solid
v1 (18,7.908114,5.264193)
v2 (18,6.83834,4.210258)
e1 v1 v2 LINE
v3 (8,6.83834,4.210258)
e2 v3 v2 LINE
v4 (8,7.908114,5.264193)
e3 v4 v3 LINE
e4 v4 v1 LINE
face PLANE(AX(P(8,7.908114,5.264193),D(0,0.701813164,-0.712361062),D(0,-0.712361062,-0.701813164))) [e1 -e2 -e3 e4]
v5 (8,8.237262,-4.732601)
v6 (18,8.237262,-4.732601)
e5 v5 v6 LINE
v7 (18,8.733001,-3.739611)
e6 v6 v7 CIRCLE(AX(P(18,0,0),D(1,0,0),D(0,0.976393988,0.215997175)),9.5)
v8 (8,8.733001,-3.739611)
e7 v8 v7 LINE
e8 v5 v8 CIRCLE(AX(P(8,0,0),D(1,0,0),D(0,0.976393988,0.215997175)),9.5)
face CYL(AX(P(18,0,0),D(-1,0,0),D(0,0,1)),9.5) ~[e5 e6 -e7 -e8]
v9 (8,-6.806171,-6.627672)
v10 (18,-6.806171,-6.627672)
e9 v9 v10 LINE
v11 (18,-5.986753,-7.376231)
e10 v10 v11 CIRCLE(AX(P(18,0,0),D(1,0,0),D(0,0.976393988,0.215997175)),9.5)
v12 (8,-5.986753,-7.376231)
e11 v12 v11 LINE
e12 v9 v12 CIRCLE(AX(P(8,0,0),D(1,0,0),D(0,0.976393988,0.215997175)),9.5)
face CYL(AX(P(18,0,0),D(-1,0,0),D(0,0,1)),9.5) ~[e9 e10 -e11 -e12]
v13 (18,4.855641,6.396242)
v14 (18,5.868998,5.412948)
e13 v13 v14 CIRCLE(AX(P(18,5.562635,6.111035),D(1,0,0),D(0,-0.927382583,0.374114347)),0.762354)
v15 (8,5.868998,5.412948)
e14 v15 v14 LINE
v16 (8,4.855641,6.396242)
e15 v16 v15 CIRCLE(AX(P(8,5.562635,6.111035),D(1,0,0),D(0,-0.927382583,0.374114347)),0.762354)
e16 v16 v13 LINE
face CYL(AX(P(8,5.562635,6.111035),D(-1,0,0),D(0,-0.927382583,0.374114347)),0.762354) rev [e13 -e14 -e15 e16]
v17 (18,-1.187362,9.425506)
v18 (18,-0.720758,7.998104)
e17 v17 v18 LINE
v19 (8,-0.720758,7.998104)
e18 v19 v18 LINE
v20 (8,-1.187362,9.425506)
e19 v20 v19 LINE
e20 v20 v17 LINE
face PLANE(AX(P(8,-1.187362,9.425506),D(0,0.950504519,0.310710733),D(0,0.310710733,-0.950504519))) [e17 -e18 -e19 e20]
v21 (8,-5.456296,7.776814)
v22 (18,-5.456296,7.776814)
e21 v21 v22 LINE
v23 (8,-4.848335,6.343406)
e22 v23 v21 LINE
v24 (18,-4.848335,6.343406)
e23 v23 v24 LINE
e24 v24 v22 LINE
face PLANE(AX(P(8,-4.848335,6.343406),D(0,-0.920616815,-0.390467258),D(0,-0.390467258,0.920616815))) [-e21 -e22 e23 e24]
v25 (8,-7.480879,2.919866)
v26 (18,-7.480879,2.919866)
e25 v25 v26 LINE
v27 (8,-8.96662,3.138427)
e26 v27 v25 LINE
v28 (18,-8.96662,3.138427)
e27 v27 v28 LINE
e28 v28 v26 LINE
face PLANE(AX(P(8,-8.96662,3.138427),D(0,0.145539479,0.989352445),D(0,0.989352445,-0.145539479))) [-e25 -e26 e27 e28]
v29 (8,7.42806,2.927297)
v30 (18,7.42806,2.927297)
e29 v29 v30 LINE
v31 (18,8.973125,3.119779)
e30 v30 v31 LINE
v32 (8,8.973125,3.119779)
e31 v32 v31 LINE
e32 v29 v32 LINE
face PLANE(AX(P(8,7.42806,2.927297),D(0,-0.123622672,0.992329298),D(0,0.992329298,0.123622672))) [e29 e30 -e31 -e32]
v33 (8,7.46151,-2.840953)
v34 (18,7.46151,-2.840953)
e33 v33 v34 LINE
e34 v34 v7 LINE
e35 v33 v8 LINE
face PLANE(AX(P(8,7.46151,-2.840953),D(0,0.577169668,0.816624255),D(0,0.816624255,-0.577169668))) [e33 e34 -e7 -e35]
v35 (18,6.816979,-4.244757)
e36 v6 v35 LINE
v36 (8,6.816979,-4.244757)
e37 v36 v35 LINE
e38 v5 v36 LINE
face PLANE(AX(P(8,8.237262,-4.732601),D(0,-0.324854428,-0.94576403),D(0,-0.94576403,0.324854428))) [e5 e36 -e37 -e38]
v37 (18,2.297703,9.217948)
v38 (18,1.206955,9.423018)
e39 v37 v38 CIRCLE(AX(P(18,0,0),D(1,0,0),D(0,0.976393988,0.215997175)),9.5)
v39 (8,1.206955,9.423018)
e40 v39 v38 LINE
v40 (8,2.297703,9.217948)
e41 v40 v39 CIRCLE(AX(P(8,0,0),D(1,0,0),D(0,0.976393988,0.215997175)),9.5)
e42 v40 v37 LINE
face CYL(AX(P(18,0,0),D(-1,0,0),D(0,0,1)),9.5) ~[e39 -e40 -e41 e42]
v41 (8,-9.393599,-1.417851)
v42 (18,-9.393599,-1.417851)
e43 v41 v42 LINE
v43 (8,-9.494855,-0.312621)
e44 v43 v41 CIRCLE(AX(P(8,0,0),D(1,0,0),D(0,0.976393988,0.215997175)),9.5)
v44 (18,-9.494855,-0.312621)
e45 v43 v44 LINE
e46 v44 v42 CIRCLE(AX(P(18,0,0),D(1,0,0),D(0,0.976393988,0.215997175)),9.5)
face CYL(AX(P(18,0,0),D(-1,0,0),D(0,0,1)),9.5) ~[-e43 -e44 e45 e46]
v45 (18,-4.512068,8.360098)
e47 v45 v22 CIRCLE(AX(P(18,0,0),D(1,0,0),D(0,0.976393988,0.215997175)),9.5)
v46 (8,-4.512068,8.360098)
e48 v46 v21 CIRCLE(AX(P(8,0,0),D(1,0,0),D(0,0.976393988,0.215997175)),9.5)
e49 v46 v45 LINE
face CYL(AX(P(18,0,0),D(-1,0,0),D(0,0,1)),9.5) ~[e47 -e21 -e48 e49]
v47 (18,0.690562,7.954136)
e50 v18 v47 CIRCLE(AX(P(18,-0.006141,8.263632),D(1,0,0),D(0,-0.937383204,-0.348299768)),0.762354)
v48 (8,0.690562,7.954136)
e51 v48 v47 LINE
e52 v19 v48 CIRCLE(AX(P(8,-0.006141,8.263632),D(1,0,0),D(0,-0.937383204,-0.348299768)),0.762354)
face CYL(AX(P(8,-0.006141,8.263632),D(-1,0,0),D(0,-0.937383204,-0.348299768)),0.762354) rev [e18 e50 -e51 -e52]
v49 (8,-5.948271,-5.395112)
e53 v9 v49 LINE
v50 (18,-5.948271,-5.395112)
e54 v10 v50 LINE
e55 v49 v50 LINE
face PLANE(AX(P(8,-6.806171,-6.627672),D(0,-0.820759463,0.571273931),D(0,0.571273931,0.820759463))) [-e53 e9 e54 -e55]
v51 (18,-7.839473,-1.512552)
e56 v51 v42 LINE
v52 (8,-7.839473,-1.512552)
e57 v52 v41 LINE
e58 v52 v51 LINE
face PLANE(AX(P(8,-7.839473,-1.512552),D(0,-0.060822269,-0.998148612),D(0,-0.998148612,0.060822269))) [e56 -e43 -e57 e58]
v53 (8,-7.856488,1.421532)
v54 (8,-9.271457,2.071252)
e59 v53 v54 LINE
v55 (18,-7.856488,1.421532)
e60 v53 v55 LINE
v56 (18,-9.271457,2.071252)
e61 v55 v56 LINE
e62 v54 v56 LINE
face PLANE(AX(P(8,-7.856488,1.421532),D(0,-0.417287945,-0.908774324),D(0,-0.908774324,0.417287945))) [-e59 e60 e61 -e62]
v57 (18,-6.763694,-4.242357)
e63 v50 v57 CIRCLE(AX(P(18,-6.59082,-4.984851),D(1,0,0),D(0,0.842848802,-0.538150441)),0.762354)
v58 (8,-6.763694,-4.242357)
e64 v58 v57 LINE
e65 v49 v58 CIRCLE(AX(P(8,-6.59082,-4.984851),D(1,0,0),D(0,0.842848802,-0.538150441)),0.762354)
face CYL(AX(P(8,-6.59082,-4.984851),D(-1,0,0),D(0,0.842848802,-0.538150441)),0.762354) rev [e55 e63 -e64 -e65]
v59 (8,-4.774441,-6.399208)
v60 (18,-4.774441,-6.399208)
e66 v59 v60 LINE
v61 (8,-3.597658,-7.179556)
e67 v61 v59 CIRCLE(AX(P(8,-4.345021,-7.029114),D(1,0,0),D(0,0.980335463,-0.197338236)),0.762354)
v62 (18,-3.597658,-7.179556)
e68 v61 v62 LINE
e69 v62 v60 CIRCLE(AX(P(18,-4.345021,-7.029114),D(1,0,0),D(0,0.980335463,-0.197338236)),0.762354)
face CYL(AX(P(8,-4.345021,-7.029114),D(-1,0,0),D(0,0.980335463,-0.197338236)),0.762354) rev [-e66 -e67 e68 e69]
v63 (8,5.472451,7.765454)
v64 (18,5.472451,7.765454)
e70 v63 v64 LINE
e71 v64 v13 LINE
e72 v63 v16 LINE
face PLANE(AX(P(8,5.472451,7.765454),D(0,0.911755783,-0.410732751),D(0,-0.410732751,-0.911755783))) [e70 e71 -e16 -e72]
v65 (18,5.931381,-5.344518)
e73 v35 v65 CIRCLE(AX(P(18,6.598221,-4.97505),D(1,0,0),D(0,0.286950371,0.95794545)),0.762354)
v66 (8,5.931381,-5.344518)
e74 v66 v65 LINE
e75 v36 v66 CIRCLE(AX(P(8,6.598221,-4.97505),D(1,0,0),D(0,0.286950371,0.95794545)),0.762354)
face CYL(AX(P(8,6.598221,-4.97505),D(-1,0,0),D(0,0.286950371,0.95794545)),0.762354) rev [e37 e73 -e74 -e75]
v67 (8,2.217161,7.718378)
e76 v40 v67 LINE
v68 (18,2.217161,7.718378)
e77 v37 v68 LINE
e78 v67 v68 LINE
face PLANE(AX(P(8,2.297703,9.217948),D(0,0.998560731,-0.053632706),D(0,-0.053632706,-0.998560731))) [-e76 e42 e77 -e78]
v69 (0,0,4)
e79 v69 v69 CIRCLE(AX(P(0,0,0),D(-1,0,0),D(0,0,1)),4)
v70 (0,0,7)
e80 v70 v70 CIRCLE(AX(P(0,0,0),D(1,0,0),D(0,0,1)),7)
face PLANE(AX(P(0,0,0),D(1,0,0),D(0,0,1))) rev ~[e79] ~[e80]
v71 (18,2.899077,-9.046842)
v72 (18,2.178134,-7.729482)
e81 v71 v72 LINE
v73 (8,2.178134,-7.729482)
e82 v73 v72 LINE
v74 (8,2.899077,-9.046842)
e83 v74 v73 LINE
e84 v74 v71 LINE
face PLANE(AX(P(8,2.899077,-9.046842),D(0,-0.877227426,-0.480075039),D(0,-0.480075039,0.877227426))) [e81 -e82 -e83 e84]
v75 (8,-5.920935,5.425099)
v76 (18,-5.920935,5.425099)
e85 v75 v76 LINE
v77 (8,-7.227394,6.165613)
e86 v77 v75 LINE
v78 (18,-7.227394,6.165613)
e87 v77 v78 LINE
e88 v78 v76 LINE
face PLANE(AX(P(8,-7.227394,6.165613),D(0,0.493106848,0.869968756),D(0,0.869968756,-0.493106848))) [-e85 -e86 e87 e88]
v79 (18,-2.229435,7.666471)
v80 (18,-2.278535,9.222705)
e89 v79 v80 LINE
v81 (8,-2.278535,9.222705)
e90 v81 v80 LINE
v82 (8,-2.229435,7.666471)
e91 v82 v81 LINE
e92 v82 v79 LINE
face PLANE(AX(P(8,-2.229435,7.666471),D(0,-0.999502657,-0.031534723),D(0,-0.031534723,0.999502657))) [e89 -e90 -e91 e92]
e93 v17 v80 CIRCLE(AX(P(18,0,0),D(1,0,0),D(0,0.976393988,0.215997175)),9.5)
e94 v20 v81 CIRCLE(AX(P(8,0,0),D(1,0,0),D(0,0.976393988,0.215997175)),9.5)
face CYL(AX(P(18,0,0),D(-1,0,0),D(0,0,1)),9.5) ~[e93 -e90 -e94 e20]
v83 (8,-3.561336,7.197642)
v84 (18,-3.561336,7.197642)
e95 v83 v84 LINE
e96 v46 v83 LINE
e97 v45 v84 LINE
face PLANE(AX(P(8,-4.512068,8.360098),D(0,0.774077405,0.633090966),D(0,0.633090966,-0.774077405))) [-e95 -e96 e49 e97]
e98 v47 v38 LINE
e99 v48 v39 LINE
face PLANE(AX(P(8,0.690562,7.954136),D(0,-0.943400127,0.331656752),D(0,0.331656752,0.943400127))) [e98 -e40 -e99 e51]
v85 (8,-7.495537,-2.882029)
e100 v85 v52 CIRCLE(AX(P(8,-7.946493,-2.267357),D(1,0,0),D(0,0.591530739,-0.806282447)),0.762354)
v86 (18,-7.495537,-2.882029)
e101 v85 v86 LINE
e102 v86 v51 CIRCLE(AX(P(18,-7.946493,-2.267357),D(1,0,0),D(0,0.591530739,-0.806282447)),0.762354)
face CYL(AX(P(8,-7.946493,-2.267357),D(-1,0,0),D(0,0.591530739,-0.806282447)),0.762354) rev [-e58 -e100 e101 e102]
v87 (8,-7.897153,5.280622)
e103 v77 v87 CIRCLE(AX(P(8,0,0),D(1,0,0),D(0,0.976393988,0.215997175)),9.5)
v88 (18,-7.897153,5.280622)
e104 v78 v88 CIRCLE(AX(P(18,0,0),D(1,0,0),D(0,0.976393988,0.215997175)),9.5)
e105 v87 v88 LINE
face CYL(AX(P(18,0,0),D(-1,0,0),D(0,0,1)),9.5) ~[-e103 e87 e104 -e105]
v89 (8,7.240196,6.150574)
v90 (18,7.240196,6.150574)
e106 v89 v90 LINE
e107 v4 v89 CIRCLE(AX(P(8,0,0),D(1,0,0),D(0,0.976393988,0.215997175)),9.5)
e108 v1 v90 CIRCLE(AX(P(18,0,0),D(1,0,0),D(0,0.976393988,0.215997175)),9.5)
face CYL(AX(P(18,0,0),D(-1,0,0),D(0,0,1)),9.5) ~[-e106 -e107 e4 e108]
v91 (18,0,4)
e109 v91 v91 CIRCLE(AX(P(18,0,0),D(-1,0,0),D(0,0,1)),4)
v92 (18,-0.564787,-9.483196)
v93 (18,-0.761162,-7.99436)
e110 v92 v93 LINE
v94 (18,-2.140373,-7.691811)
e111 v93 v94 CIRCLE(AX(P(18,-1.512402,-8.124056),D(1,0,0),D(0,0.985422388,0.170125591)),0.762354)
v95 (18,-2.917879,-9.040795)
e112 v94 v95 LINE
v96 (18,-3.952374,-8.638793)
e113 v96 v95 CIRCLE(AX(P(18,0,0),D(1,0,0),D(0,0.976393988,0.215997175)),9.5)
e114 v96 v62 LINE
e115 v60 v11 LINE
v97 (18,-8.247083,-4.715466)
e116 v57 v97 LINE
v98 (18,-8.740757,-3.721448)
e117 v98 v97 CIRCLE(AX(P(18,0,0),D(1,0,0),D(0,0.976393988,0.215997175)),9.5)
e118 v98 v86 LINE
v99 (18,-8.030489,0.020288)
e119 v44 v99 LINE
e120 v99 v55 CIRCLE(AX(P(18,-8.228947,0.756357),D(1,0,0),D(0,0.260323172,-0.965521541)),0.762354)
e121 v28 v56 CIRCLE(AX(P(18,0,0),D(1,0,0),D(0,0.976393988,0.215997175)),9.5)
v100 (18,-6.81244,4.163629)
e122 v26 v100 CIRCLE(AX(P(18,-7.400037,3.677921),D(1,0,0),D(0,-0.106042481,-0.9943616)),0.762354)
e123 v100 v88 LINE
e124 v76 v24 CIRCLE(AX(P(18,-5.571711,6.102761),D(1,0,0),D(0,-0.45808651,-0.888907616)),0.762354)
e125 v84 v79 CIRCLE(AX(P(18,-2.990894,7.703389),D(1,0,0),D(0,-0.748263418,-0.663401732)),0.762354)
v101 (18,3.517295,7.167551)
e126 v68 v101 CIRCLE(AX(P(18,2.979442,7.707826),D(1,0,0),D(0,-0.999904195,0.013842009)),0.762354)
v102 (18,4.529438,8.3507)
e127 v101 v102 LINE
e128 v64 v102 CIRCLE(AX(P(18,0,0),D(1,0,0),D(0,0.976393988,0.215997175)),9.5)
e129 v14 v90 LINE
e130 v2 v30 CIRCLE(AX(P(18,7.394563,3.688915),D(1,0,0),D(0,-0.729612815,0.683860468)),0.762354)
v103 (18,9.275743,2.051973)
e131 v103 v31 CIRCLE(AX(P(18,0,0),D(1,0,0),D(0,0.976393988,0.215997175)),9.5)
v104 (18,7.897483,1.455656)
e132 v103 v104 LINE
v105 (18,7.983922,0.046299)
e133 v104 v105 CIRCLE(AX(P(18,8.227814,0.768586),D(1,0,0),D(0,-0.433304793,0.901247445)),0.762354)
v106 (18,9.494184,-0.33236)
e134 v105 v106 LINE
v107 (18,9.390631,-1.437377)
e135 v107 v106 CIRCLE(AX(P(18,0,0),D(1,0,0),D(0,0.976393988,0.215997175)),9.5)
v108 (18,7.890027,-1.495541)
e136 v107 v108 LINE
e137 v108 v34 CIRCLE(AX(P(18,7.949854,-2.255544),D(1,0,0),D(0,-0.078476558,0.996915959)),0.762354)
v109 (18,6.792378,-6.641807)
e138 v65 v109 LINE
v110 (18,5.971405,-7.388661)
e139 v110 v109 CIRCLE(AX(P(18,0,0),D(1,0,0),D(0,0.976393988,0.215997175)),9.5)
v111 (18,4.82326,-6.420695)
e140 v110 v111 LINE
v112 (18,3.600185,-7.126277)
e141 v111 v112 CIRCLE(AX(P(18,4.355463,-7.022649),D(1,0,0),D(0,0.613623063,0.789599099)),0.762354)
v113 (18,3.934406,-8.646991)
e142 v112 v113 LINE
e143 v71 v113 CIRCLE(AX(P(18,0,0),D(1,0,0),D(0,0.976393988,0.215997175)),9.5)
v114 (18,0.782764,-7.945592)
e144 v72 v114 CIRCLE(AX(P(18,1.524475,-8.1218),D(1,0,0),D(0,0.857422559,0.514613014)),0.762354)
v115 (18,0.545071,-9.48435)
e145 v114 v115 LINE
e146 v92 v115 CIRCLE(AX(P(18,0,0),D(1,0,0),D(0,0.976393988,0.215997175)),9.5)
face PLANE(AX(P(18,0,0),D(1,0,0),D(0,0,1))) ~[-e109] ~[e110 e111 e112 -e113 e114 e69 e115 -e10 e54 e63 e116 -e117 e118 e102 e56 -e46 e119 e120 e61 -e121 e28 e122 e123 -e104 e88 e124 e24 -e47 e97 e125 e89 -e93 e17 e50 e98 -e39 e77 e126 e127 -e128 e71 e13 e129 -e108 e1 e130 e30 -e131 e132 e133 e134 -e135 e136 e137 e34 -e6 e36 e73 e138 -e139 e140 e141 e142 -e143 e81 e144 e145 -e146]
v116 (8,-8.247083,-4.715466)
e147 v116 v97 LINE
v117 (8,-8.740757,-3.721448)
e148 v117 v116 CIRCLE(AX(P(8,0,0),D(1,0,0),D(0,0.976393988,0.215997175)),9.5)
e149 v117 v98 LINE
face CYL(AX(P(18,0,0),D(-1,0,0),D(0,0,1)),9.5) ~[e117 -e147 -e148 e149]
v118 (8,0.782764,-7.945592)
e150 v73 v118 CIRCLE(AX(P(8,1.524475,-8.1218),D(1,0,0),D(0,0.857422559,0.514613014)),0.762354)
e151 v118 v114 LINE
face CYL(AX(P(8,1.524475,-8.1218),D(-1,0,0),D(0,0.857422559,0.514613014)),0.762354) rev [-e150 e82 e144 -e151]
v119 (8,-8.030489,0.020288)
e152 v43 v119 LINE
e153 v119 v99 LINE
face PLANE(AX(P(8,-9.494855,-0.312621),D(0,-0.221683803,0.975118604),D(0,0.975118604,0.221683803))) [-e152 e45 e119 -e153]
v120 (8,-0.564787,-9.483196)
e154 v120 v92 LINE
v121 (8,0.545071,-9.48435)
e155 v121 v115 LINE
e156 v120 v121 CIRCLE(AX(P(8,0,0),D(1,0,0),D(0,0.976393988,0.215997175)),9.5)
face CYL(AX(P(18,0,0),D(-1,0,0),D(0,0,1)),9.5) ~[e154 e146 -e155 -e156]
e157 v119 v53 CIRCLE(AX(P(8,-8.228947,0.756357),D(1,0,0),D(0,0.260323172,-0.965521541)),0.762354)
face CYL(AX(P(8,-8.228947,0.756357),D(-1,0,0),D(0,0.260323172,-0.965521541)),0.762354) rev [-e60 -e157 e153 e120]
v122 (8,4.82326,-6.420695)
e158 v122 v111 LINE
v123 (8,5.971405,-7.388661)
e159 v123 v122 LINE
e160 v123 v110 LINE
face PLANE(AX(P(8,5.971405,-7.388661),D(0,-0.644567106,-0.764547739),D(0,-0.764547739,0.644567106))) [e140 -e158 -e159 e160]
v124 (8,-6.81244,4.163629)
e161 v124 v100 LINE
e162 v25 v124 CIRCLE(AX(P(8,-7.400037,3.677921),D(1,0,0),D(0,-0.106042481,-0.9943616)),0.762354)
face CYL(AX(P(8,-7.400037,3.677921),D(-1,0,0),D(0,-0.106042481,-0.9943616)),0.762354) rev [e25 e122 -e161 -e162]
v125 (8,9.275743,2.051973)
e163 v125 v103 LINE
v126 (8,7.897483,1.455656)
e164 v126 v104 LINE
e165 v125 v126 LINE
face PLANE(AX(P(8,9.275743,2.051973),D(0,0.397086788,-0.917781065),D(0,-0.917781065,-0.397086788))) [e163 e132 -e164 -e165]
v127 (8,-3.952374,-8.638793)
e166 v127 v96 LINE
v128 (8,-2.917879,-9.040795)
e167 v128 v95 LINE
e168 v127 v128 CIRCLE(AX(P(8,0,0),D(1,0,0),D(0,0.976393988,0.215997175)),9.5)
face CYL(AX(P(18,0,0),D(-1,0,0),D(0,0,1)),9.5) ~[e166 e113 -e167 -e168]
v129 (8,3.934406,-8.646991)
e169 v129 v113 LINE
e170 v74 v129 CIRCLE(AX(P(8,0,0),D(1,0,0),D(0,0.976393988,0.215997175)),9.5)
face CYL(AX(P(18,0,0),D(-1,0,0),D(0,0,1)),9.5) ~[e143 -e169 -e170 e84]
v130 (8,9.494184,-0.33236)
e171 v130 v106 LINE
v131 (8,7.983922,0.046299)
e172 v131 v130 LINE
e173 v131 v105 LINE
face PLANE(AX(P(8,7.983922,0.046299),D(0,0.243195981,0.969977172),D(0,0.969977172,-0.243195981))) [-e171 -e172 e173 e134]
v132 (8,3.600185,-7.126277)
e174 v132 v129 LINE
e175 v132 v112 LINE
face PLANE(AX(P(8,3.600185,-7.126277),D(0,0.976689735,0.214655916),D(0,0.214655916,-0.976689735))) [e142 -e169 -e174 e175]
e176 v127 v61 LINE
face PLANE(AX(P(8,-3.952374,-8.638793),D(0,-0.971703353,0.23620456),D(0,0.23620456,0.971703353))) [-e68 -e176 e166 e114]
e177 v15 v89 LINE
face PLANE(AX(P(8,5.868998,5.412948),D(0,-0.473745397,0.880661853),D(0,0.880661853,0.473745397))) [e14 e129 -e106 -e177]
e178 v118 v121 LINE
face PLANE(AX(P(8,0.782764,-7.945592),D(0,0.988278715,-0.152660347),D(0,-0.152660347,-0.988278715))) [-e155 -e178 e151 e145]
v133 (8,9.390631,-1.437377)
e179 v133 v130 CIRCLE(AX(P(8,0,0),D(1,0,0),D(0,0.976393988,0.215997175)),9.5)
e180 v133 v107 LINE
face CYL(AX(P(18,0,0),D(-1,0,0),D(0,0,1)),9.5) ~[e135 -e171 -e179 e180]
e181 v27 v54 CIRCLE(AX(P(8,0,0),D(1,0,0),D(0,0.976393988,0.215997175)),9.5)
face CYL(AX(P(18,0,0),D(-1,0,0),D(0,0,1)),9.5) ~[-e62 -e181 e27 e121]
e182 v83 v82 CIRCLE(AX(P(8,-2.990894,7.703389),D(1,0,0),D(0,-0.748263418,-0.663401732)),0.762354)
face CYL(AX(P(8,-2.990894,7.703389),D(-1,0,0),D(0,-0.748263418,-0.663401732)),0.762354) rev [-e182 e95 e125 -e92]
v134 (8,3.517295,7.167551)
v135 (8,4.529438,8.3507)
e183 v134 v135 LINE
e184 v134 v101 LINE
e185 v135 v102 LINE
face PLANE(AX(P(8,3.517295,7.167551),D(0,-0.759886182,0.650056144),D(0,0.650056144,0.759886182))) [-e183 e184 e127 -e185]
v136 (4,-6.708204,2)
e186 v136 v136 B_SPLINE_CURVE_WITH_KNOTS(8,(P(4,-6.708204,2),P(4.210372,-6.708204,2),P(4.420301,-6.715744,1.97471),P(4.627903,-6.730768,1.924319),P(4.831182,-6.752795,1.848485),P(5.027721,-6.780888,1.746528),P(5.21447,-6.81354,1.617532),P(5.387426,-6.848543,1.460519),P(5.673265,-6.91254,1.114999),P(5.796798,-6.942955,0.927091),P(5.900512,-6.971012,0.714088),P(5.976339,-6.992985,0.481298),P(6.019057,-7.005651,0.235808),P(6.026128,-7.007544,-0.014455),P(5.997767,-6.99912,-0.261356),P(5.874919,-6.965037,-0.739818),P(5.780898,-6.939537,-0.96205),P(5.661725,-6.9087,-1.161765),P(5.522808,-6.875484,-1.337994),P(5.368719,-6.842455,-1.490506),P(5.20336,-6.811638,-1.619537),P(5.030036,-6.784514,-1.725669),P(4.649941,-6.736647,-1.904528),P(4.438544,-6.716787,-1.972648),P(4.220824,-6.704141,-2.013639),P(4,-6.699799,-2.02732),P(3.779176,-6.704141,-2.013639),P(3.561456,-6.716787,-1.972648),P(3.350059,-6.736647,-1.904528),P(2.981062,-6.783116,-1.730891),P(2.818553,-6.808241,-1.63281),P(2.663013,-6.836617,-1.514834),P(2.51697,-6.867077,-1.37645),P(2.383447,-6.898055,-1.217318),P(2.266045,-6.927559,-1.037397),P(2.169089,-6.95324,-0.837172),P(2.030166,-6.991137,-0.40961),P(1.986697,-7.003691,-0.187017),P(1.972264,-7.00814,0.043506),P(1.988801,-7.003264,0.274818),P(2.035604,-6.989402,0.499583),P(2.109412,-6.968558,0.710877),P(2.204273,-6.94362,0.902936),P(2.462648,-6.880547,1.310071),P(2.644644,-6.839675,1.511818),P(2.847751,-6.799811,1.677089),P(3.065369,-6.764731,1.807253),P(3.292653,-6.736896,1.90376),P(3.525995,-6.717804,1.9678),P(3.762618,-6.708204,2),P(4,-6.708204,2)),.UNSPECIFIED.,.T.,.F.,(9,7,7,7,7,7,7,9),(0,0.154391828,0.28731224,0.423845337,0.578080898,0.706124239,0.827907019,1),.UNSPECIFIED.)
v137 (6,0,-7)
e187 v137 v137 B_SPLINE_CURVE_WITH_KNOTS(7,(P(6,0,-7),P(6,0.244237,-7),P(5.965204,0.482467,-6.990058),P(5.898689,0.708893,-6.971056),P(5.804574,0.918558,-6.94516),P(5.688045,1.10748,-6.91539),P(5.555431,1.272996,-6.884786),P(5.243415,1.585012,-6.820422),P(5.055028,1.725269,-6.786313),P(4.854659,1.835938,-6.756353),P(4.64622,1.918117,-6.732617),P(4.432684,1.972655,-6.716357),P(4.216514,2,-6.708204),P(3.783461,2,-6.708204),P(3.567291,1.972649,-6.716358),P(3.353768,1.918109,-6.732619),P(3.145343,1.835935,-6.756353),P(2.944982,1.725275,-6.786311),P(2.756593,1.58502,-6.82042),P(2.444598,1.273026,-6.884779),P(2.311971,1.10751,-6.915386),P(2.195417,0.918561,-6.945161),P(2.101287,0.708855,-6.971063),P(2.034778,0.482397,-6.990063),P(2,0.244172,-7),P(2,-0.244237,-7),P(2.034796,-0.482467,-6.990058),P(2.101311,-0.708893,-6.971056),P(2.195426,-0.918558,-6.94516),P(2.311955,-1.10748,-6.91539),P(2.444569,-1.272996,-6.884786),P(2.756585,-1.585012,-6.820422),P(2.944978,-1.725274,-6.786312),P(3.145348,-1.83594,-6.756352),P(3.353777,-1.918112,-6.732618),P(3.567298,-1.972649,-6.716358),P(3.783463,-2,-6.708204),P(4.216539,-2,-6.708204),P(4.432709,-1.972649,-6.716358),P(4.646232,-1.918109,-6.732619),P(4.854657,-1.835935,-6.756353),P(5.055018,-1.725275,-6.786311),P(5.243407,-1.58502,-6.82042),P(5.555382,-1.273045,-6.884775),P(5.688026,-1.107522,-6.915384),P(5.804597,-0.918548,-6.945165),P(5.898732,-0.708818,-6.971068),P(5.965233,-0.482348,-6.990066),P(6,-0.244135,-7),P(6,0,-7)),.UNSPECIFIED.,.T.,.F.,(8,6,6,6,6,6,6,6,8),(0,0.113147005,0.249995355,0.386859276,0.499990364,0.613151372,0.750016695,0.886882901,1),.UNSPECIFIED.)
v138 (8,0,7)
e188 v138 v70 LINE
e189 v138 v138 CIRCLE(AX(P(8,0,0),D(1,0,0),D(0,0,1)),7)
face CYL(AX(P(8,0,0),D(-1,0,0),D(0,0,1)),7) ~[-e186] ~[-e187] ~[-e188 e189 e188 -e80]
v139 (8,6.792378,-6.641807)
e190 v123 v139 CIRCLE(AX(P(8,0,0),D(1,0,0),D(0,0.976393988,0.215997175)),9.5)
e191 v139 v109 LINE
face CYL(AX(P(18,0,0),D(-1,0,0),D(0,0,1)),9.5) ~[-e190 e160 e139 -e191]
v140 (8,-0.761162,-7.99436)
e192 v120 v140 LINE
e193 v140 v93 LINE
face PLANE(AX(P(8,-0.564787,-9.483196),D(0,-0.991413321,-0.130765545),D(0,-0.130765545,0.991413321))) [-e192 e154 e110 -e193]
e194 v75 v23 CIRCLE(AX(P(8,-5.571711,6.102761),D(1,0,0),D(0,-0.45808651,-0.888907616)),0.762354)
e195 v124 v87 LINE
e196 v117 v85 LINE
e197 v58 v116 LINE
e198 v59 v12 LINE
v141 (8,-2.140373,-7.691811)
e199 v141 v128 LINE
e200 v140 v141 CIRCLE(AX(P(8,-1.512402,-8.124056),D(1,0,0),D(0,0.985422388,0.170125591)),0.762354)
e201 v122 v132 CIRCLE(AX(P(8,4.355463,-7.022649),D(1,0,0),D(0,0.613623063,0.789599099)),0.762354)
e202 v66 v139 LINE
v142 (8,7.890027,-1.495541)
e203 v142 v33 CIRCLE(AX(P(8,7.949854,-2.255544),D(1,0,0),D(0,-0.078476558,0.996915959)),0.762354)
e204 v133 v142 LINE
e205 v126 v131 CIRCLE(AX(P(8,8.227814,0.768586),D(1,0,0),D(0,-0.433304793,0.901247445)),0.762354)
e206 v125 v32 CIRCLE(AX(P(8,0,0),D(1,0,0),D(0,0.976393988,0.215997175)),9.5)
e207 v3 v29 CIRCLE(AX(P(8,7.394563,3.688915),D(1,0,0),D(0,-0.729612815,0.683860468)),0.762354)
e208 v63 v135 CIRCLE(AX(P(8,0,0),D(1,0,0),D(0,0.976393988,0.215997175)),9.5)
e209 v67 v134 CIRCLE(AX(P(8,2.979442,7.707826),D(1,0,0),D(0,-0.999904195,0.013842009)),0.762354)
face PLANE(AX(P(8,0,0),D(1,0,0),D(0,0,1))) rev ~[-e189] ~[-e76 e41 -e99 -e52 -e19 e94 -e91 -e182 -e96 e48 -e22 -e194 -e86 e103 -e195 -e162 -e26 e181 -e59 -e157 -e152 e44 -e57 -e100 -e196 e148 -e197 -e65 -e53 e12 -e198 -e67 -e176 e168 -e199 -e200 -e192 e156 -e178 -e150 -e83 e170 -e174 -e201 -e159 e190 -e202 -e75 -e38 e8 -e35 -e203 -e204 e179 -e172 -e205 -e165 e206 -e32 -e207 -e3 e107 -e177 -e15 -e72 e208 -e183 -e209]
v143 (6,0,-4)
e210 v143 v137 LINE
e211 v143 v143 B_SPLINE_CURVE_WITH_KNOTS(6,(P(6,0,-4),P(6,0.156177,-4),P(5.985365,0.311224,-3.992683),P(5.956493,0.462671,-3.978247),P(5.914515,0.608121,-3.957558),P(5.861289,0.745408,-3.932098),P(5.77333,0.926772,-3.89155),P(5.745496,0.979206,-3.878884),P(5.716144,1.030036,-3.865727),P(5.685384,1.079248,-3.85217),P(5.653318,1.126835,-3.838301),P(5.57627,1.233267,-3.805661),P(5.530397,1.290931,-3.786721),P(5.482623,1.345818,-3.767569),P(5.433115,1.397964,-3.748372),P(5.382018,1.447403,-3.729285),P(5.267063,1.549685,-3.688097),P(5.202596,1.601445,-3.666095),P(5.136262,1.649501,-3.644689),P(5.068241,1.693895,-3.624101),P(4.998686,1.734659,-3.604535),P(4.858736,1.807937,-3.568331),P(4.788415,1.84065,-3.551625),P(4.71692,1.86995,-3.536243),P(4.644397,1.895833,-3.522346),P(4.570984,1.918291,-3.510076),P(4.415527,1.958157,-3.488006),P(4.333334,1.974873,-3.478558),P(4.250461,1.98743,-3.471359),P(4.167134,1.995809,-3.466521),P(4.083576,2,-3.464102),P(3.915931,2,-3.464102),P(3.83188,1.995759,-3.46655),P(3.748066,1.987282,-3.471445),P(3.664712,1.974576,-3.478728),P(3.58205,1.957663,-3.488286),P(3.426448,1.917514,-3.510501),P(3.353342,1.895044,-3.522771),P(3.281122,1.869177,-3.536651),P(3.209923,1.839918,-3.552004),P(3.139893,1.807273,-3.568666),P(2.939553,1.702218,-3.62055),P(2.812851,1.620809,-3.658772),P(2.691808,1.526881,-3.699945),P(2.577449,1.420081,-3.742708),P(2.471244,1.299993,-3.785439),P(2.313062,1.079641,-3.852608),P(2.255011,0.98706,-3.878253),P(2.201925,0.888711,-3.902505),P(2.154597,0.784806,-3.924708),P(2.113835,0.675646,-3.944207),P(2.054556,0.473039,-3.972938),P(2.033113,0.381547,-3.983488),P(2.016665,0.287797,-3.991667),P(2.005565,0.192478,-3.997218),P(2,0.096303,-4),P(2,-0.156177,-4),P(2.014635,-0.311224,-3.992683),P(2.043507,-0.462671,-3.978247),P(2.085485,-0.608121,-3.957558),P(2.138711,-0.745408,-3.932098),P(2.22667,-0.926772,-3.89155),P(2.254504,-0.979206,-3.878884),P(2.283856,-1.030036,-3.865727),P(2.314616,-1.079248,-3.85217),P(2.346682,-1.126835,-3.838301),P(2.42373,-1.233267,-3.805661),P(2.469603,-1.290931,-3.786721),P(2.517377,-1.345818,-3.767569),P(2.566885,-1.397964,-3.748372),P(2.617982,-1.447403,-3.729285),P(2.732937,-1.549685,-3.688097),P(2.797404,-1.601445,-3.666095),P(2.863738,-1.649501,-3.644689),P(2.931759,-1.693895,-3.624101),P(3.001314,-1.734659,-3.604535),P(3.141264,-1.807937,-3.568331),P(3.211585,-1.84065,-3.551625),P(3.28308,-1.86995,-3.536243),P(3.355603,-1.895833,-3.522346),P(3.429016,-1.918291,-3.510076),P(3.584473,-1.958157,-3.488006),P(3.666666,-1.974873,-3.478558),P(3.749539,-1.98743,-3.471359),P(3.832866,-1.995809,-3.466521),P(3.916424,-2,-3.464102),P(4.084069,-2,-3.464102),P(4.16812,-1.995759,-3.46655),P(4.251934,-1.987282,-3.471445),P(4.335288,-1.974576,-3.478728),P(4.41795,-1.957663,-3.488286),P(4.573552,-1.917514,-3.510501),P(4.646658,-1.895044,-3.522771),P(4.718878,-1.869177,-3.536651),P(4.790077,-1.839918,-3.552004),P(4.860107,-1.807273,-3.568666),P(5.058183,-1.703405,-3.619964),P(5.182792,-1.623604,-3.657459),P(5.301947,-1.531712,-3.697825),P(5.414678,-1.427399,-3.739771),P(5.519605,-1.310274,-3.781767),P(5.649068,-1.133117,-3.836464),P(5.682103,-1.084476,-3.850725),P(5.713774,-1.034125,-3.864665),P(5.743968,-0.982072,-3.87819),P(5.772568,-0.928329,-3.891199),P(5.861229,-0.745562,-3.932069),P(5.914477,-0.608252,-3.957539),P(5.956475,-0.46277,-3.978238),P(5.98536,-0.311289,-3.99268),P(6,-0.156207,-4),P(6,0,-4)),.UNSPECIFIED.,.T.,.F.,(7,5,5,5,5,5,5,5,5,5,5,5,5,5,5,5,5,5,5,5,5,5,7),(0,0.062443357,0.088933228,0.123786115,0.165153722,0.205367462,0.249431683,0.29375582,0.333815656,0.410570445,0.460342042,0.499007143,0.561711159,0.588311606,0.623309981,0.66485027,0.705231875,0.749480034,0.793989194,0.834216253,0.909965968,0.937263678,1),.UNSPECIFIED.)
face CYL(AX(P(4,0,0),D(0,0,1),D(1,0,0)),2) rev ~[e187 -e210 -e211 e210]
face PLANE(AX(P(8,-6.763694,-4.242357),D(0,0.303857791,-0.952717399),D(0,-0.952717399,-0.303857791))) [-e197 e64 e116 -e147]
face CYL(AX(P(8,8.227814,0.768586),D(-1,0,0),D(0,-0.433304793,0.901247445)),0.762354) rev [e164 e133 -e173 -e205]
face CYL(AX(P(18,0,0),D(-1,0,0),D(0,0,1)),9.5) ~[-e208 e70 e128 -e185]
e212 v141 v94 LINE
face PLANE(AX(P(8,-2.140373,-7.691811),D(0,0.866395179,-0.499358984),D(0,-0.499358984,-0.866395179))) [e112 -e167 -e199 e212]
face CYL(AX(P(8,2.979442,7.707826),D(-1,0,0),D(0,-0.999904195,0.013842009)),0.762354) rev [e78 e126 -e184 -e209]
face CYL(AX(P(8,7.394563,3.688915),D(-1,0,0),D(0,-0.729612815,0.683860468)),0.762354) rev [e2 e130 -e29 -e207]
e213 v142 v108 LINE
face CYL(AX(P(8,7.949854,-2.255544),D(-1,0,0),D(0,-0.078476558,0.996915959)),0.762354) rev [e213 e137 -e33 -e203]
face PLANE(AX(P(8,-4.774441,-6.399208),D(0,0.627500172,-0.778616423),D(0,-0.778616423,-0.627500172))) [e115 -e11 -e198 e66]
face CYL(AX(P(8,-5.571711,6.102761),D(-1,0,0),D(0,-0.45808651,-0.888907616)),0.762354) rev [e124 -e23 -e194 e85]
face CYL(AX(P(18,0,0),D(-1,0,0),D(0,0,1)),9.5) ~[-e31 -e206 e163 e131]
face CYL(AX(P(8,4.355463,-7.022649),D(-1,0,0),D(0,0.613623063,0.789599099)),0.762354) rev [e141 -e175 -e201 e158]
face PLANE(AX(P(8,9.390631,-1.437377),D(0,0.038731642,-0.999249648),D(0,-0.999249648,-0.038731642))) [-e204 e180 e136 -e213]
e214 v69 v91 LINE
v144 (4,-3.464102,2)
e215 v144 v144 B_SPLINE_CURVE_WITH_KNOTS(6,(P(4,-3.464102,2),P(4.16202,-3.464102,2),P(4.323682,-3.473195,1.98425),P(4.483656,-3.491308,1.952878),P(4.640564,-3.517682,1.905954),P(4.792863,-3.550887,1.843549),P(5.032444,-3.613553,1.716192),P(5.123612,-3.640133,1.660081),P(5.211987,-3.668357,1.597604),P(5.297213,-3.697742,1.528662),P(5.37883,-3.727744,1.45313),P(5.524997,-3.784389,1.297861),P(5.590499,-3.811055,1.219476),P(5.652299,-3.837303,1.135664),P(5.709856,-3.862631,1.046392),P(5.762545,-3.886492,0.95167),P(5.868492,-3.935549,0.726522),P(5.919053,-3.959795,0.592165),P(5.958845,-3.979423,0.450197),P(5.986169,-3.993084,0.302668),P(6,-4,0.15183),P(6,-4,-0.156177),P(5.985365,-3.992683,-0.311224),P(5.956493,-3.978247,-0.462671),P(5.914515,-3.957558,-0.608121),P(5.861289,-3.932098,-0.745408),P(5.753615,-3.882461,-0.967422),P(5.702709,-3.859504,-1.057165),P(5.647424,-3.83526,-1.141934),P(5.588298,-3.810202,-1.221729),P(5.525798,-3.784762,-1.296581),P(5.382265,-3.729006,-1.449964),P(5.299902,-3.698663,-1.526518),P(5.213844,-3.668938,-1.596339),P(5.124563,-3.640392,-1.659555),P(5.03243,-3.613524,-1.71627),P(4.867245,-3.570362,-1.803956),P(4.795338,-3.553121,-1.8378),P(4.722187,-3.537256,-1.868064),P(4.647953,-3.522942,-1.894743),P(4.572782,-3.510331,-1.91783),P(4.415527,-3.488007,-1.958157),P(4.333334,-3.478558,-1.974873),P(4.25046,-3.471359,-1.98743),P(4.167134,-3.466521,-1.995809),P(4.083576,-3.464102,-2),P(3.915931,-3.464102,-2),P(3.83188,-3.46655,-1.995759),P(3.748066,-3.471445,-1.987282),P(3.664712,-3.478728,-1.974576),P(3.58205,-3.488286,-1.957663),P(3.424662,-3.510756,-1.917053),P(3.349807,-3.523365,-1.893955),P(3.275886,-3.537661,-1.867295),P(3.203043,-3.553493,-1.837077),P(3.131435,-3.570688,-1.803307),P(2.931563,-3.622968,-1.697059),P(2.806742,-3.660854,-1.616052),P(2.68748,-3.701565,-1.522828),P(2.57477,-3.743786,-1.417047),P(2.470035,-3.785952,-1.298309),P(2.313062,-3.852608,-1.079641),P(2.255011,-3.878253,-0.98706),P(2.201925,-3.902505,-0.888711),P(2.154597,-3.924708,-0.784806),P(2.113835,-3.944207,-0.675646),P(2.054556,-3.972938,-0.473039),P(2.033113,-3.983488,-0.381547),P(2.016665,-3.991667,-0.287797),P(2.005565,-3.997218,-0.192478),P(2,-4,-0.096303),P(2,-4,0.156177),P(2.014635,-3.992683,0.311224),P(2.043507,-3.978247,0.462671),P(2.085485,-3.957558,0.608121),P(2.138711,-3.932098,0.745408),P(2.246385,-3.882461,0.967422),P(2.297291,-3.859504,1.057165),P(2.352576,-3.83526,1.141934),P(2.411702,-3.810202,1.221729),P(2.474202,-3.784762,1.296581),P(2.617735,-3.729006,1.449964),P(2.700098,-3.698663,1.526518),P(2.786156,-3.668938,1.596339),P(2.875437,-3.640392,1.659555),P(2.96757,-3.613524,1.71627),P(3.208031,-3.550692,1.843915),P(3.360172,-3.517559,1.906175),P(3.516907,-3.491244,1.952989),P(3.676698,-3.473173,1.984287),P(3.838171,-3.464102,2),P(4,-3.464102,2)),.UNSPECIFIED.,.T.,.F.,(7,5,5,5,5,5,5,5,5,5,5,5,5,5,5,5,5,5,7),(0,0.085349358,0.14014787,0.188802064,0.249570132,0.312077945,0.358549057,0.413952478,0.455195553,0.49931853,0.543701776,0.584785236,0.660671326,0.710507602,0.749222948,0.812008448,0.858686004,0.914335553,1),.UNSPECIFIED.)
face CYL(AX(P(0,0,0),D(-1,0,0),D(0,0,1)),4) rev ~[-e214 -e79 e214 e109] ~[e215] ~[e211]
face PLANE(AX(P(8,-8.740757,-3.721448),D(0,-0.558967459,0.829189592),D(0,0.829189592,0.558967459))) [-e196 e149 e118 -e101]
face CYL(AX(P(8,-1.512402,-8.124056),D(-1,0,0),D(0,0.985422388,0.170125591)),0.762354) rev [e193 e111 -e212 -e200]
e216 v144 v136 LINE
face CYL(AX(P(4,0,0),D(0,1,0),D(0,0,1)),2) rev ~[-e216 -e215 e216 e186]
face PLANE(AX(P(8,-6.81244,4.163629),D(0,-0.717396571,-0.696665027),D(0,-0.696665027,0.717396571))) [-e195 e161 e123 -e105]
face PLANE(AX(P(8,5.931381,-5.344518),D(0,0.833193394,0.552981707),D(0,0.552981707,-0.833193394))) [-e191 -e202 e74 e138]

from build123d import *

# Parameters (mm, degrees)
SKETCH_2_R               = 4
CUT_EXTRUDE_1_DEPTH      = 20
CUT_EXTRUDE_2_DEPTH      = 10
PATTERN_CIRCULAR_1_COUNT = 17
SKETCH_4_R               = 2
CUT_EXTRUDE_3_DEPTH      = 10
SKETCH_5_R               = 2
CUT_EXTRUDE_4_DEPTH      = 10


with BuildPart() as part:
    # Эскиз1 → Повернуть1 (revolve)
    with BuildSketch(Plane.XY):
        Polygon((18, 0), (18, 9.5), (8, 9.5), (8, 7), (0, 7), (0, 0), align=None)
    revolve(axis=Axis((0, 0, 0), (1, 0, 0)))

    # Эскиз2 → Вырез-Вытянуть1 (cut)
    with BuildSketch(Plane.ZY):
        Circle(SKETCH_2_R)
    extrude(amount=-CUT_EXTRUDE_1_DEPTH, mode=Mode.SUBTRACT)

    # Эскиз3 → Вырез-Вытянуть2 (cut)
    with BuildSketch(Plane.ZY.offset(-8)):
        with BuildLine():
            Line((0.046298541, 7.983921855), (-0.332359624, 9.494184382))
            ThreePointArc((-0.332359624, 9.494184382), (0.866716129, 9.460380709), (2.051973159, 9.27574289))
            Line((2.051973159, 9.27574289), (1.455655646, 7.897482676))
            ThreePointArc((1.455655646, 7.897482676), (0.721917095, 7.466890324), (0.046298541, 7.983921855))
        make_face()
    cut_extrude_2 = extrude(amount=-CUT_EXTRUDE_2_DEPTH, mode=Mode.SUBTRACT)

    # Круговой массив1: Вырез-Вытянуть2 ×17 about axis
    pattern_circular_1_axis = Axis((18, 0, 0), (-1, 0, 0))
    for i in range(1, PATTERN_CIRCULAR_1_COUNT):
        add(cut_extrude_2.rotate(pattern_circular_1_axis, i * 360 / PATTERN_CIRCULAR_1_COUNT), mode=Mode.SUBTRACT)

    # Эскиз4 → Вырез-Вытянуть3 (cut)
    with BuildSketch(Plane(origin=(0, 0, 0), x_dir=(1, 0, 0), z_dir=(0, 1, 0))):
        with Locations((4, 0)):
            Circle(SKETCH_4_R)
    extrude(amount=-CUT_EXTRUDE_3_DEPTH, mode=Mode.SUBTRACT)

    # Эскиз5 → Вырез-Вытянуть4 (cut)
    with BuildSketch(Plane.XY):
        with Locations((4, 0)):
            Circle(SKETCH_5_R)
    extrude(amount=-CUT_EXTRUDE_4_DEPTH, mode=Mode.SUBTRACT)


solid = part.part
